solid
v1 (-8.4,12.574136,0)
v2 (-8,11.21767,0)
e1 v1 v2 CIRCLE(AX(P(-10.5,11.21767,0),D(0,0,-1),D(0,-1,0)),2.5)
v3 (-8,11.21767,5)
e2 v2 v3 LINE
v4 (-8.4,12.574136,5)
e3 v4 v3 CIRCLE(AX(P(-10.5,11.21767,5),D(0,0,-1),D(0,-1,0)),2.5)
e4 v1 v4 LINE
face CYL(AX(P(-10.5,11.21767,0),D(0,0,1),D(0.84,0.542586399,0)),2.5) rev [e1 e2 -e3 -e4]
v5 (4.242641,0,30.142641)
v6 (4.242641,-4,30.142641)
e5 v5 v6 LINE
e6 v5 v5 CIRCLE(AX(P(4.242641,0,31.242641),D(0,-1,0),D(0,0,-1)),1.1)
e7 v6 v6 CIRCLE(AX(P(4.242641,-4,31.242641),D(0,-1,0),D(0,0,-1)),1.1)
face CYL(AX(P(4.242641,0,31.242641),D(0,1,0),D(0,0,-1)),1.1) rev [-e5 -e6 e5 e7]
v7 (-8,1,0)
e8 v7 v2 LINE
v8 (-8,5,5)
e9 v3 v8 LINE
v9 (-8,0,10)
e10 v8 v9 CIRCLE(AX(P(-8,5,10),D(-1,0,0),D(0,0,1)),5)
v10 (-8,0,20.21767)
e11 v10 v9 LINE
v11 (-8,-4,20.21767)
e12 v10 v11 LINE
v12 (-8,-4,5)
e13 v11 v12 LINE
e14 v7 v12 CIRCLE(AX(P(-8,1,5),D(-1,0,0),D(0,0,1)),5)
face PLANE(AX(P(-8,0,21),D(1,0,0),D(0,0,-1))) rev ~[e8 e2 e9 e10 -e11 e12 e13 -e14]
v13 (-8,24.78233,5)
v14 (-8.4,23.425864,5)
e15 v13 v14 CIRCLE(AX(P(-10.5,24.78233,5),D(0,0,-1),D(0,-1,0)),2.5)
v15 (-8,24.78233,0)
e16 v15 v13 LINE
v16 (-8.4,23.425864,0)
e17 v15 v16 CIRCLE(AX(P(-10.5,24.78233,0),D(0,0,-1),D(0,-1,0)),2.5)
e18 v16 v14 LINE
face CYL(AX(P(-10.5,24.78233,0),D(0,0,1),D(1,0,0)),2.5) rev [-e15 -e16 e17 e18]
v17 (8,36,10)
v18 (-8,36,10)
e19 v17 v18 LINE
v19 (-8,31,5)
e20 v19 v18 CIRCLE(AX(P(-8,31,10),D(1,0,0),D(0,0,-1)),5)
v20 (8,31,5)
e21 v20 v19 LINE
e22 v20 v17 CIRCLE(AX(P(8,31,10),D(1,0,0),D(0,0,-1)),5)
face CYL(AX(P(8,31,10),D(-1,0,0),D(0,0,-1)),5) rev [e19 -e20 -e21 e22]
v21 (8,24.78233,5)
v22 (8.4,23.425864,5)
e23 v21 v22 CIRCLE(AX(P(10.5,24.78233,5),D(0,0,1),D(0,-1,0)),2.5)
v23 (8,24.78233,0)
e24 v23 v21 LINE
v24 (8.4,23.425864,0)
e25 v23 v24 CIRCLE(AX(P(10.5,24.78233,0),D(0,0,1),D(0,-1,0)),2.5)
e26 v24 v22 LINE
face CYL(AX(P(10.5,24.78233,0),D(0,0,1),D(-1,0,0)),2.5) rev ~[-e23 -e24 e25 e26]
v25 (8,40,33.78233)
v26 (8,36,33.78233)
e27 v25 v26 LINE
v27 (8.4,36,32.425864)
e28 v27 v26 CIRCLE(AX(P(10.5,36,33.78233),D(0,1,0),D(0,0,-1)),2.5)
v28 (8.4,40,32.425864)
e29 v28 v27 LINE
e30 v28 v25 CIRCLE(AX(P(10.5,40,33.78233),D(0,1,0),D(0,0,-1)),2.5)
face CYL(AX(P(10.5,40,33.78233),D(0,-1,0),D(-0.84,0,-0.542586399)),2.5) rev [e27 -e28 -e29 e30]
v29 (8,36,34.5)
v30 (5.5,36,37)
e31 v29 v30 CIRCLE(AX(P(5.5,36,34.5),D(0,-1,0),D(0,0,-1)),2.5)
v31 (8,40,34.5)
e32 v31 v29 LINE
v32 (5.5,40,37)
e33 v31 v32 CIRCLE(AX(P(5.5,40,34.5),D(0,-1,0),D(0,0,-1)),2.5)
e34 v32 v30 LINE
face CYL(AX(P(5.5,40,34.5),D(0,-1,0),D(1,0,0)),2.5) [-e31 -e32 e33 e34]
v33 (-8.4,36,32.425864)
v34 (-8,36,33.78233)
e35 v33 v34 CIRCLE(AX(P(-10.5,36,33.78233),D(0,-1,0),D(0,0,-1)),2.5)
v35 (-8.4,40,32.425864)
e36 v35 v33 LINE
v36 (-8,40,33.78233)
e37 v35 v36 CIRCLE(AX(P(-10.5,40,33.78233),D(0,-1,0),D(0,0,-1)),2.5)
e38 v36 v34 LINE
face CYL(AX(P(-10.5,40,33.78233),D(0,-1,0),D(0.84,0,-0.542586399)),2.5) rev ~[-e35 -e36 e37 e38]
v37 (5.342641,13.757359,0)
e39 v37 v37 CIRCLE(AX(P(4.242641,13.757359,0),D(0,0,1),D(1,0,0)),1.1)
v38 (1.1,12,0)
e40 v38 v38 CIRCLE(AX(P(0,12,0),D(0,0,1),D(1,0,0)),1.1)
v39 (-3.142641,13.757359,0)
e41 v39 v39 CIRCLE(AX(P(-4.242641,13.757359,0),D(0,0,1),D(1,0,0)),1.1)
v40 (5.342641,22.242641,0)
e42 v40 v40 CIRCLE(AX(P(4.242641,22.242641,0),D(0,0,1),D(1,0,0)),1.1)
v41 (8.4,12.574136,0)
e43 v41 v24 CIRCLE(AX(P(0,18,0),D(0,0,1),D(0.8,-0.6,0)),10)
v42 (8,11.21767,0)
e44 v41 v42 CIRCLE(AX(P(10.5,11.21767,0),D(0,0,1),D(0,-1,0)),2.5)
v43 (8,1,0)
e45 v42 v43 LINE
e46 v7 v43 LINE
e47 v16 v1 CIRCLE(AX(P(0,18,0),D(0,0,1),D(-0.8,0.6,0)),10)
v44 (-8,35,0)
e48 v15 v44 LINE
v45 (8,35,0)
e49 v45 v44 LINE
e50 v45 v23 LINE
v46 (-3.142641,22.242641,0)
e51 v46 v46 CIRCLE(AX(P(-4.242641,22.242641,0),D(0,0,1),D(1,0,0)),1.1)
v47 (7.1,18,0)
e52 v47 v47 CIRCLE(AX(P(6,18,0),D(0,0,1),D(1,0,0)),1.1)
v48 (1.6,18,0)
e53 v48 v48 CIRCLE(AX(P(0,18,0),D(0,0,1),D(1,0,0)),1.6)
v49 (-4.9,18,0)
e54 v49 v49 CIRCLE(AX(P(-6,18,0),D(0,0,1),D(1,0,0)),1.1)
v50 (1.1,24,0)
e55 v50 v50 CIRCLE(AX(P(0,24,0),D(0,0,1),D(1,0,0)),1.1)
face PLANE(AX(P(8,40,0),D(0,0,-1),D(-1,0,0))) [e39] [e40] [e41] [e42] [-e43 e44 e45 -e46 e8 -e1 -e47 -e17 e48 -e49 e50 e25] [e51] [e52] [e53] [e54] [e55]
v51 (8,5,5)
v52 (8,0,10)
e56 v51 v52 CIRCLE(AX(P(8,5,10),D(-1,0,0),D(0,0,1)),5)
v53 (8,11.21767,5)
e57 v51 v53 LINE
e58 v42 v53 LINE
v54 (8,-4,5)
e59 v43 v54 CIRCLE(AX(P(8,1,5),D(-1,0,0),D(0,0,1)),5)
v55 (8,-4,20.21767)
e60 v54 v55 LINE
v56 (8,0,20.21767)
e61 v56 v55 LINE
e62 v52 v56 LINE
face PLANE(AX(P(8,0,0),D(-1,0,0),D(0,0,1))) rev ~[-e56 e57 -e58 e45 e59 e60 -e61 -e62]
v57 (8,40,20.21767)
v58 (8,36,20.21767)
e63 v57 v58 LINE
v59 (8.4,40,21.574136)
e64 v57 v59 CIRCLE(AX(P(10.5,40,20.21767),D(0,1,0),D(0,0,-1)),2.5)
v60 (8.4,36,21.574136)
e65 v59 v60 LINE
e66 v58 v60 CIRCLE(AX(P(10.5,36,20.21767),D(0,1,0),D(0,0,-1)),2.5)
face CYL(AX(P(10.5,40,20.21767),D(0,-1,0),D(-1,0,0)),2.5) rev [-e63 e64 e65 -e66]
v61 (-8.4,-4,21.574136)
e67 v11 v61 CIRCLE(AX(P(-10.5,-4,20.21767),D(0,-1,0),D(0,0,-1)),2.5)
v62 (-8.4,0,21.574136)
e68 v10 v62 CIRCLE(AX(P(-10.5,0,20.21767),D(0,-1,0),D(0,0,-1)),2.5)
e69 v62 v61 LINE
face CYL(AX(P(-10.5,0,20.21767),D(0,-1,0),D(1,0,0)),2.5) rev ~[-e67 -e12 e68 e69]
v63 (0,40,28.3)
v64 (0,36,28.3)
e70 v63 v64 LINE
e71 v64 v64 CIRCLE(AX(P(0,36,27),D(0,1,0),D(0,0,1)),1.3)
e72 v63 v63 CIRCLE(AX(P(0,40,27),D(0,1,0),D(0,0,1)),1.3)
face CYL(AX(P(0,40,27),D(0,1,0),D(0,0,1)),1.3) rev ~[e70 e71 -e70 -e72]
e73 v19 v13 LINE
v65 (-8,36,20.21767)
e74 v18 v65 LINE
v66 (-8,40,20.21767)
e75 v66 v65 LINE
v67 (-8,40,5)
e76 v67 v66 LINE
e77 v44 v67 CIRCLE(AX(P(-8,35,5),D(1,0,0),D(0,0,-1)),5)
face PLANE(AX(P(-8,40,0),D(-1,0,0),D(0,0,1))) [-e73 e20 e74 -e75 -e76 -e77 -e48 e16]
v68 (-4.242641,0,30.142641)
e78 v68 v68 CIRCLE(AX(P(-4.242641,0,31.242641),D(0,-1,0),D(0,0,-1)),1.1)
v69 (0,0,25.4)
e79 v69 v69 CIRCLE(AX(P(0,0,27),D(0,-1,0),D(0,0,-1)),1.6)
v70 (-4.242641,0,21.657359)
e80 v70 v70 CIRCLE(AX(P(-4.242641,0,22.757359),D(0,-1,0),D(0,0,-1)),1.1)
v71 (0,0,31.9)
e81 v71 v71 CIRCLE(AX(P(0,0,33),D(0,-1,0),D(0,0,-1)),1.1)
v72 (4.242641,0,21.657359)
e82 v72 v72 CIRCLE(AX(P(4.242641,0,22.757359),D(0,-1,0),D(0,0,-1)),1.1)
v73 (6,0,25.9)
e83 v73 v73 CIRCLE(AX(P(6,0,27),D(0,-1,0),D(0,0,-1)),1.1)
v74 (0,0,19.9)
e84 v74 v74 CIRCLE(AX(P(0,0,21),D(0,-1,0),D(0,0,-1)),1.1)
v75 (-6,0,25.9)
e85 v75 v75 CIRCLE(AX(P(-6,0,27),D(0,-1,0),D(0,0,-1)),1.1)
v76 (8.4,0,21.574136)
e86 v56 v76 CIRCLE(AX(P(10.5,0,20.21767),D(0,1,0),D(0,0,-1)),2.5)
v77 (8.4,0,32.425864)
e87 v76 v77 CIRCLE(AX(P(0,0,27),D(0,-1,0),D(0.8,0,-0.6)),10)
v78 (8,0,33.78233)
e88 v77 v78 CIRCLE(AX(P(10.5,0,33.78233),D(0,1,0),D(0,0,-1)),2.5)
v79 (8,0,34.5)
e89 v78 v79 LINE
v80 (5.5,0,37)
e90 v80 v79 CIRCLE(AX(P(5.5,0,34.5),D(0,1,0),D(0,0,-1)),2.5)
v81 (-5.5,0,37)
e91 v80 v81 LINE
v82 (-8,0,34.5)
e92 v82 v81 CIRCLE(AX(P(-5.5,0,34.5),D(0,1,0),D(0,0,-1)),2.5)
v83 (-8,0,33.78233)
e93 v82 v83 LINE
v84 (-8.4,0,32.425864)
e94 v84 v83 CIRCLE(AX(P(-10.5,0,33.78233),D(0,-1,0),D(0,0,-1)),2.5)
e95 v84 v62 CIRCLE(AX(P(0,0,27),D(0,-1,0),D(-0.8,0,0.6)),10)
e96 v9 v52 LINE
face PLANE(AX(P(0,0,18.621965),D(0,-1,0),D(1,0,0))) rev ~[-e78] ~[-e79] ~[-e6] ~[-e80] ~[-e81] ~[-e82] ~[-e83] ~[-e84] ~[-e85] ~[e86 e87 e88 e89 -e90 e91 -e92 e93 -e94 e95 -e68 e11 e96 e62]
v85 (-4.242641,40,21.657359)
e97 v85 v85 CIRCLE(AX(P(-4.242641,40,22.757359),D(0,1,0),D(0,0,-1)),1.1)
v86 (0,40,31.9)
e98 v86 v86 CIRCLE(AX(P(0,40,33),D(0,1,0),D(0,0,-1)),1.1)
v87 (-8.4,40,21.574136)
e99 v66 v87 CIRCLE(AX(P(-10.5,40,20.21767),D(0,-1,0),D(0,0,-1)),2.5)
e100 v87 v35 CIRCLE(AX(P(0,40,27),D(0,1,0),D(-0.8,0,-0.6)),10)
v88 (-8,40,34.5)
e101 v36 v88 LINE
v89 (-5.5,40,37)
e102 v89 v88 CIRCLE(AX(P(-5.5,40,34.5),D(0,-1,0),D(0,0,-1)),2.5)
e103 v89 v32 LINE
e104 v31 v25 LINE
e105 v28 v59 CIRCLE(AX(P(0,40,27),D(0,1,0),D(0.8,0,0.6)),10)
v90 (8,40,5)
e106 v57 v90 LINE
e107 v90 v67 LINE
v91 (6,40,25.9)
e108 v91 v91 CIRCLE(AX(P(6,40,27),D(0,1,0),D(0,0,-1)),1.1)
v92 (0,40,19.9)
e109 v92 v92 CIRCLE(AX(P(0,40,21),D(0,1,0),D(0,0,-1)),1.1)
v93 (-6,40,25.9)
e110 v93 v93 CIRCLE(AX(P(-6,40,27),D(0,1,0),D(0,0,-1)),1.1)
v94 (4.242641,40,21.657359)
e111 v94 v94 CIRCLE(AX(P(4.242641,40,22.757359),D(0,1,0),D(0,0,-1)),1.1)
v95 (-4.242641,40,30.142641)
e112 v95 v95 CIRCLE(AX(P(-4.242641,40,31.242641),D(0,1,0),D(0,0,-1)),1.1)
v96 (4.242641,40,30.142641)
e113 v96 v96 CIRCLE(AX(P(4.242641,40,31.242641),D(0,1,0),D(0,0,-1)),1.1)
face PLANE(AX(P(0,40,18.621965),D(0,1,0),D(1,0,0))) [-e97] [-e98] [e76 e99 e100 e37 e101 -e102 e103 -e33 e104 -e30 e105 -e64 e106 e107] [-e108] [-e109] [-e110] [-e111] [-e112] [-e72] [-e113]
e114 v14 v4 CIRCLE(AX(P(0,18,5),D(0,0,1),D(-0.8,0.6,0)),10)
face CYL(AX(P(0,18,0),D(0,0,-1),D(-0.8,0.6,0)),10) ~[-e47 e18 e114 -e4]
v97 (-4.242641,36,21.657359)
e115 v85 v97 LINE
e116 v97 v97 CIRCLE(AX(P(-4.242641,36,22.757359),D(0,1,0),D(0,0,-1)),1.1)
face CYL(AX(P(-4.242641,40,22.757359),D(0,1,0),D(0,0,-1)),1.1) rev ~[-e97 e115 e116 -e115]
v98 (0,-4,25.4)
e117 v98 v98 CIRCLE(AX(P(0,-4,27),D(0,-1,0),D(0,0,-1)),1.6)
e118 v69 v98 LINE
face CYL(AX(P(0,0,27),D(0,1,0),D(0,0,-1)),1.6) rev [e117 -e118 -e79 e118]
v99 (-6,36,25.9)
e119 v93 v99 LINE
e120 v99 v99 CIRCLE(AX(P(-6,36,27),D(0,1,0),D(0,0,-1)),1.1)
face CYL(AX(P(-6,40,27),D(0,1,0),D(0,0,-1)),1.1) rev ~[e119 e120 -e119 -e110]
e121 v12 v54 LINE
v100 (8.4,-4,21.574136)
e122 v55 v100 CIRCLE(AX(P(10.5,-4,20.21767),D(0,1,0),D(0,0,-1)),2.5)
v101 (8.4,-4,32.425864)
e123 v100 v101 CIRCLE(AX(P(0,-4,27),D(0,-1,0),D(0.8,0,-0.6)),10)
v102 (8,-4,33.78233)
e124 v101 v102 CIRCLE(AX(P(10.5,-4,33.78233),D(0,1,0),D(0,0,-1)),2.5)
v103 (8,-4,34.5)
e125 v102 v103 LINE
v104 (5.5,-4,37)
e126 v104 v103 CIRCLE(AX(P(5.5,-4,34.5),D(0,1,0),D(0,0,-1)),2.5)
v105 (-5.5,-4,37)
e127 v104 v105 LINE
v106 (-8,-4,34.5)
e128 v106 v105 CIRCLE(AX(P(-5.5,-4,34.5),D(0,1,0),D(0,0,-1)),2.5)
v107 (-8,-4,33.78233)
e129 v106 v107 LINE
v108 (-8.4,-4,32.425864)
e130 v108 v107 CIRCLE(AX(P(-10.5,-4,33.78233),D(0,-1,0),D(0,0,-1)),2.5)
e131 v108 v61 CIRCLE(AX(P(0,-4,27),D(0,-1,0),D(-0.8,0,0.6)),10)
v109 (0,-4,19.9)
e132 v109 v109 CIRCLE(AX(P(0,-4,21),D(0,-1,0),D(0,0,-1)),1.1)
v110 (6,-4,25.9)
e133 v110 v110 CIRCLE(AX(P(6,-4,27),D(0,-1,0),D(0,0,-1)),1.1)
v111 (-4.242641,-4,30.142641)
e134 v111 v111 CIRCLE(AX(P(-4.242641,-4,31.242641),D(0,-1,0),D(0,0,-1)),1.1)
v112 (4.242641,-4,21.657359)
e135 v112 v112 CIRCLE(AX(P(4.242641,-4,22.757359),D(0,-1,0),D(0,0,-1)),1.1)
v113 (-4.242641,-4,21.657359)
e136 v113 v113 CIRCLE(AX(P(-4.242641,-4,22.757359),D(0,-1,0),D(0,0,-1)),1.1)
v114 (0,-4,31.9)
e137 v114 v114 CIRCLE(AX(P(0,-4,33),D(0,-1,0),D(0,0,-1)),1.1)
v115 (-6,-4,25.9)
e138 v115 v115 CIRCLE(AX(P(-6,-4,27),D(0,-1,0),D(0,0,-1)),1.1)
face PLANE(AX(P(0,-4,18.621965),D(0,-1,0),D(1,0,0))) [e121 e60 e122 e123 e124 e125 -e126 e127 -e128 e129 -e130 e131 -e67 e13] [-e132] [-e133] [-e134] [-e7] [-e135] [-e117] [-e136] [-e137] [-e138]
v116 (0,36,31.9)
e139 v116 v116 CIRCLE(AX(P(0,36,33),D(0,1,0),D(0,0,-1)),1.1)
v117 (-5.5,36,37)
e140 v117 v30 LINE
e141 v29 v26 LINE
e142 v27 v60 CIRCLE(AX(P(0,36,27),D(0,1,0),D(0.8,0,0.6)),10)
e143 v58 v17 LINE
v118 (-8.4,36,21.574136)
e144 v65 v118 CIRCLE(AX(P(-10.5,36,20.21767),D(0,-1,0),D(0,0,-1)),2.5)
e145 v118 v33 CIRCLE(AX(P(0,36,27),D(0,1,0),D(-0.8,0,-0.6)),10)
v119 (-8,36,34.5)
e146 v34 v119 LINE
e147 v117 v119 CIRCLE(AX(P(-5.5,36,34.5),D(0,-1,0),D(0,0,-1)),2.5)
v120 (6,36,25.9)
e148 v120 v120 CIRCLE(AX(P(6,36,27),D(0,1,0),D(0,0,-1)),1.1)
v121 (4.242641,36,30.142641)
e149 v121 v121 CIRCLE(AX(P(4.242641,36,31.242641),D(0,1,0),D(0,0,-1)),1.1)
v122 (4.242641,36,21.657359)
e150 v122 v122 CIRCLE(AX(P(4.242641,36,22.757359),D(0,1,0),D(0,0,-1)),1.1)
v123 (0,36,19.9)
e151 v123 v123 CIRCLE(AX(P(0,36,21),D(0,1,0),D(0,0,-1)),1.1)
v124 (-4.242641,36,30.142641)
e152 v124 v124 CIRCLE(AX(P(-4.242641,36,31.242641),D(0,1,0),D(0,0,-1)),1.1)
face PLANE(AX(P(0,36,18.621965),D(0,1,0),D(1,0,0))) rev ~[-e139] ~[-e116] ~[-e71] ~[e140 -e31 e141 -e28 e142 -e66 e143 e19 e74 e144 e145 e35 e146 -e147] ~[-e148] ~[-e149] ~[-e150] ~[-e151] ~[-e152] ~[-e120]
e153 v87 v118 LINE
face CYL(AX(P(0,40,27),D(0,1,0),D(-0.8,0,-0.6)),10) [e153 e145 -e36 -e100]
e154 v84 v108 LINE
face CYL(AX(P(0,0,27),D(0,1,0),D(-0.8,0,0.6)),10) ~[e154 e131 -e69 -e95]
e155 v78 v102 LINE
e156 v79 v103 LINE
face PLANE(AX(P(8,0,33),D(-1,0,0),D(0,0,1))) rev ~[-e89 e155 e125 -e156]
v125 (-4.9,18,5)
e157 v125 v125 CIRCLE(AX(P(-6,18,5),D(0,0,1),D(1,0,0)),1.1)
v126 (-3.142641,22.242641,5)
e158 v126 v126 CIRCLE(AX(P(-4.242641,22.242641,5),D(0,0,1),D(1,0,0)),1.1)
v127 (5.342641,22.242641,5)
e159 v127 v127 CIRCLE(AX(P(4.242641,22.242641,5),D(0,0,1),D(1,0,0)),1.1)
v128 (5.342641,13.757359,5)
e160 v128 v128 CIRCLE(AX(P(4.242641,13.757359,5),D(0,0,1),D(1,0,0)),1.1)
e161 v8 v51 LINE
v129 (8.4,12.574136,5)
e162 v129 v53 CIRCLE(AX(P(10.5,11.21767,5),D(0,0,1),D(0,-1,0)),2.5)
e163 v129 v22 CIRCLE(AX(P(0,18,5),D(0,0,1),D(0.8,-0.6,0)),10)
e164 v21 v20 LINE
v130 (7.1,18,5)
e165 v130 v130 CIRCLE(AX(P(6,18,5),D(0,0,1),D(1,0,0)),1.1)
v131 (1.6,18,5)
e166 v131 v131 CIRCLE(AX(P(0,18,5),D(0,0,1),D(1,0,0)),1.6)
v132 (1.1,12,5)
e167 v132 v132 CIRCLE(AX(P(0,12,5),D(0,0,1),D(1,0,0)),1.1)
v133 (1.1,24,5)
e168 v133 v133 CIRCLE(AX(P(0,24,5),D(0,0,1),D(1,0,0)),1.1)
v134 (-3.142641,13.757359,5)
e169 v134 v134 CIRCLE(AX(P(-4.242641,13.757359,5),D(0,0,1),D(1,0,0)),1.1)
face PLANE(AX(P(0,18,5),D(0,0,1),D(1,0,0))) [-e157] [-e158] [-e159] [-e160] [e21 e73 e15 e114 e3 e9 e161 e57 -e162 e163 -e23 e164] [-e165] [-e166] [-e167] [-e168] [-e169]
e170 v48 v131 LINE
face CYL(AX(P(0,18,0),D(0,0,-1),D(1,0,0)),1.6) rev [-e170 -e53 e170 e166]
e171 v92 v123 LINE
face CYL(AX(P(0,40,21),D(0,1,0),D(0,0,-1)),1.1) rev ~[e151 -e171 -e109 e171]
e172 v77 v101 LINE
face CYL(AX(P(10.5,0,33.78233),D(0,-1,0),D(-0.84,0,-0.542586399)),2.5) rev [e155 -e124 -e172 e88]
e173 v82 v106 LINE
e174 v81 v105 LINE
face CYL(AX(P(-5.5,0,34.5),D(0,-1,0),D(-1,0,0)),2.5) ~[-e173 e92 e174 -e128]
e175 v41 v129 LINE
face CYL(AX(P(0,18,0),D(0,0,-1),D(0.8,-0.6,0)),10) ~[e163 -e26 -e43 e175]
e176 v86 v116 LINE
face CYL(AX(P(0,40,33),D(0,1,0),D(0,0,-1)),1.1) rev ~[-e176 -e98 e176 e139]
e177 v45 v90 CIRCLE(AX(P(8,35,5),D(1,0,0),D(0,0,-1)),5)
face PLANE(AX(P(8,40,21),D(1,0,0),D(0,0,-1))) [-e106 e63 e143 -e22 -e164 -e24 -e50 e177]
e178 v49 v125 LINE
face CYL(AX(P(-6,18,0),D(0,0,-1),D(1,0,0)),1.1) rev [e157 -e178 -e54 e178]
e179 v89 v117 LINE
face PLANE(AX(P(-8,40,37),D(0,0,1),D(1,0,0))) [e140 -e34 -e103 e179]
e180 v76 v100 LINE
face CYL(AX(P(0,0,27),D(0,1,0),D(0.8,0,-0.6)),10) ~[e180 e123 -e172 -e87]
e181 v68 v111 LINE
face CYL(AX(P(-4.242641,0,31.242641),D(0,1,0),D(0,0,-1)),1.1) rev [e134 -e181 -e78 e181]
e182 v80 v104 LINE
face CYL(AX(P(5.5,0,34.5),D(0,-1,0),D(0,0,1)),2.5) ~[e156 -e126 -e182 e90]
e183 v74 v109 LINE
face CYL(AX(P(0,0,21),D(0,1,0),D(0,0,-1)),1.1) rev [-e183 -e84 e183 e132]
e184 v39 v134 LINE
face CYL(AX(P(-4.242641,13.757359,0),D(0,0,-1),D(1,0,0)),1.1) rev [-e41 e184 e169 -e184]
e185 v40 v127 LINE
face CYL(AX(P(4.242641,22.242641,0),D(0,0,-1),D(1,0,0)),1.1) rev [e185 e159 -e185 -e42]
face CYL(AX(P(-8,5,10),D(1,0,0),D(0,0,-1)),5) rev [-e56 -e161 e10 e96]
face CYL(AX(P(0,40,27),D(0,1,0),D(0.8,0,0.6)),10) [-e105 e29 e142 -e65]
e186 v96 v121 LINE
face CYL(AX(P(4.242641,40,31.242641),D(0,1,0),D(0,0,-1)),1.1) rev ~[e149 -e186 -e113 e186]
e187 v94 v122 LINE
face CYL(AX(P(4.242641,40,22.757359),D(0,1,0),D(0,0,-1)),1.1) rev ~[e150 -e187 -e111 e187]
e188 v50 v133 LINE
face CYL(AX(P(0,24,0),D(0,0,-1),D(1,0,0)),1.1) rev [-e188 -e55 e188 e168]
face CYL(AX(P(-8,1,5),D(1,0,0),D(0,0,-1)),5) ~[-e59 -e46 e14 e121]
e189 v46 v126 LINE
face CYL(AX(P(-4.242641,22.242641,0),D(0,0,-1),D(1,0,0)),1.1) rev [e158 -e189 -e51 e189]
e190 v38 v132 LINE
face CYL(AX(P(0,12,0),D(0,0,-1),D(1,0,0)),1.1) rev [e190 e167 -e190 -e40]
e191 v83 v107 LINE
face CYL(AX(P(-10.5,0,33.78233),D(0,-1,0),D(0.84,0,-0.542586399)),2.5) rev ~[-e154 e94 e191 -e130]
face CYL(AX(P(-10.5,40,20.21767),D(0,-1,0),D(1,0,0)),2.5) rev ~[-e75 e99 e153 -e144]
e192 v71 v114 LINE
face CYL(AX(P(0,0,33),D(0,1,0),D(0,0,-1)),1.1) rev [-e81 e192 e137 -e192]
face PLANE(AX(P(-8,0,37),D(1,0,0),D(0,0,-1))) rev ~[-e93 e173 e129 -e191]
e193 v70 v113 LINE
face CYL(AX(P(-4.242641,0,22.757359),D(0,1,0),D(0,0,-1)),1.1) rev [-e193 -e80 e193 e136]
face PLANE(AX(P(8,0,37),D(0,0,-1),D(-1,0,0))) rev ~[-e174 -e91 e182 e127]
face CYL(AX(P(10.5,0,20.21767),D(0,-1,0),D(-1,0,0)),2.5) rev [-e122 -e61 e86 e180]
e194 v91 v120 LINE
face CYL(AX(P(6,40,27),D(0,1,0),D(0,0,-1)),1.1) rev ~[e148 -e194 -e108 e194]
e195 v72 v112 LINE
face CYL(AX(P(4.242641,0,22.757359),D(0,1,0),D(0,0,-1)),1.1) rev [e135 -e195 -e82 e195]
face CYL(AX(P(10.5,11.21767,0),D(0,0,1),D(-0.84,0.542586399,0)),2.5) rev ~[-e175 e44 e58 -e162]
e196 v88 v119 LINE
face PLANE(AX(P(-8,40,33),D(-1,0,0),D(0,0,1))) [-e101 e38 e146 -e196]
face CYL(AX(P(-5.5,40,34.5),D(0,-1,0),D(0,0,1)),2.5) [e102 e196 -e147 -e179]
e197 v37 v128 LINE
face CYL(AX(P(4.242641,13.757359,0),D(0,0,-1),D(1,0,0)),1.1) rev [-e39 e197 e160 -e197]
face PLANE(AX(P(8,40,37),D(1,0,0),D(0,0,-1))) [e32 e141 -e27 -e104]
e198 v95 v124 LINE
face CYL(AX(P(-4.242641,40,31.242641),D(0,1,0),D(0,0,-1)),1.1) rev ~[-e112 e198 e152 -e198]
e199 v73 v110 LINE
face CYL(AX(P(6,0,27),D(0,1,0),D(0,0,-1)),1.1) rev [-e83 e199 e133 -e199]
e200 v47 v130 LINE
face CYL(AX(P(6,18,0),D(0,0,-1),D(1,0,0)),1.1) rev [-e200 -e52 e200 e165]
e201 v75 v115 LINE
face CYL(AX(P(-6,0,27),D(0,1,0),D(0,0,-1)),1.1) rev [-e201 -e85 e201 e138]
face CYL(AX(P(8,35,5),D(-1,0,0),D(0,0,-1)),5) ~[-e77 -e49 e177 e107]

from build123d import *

# Parameters (mm, degrees)
SKETCH_1_R      = 1.6
SKETCH_1_R_2    = 1.1
EXTRUDE_1_DEPTH = 5
SKETCH_2_R      = 1.6
SKETCH_2_R_2    = 1.1
EXTRUDE_2_DEPTH = 4
EXTRUDE_START   = 4
SKETCH_3_R      = 1.1
SKETCH_3_R_2    = 1.3
EXTRUDE_3_DEPTH = 4
FILLET_1_R      = 5
FILLET_2_R      = 2.5


with BuildPart() as part:
    # ｽｹｯﾁ1 → ﾎﾞｽ - 押し出し1 (new body)
    with BuildSketch(Plane.XY):
        with BuildLine():
            Line((-8, 0), (8, 0))
            Line((8, 0), (8, 12))
            ThreePointArc((8, 12), (10, 18), (8, 24))
            Line((8, 24), (8, 36))
            Line((8, 36), (-8, 36))
            Line((-8, 36), (-8, 24))
            ThreePointArc((-8, 24), (-10, 18), (-8, 12))
            Line((-8, 12), (-8, 0))
        make_face()
        with Locations((0, 18)):
            Circle(SKETCH_1_R, mode=Mode.SUBTRACT)
        with Locations((0, 24)):
            Circle(SKETCH_1_R_2, mode=Mode.SUBTRACT)
        with Locations((4.242640687, 22.242640687)):
            Circle(SKETCH_1_R_2, mode=Mode.SUBTRACT)
        with Locations((6, 18)):
            Circle(SKETCH_1_R_2, mode=Mode.SUBTRACT)
        with Locations((4.242640687, 13.757359313)):
            Circle(SKETCH_1_R_2, mode=Mode.SUBTRACT)
        with Locations((0, 12)):
            Circle(SKETCH_1_R_2, mode=Mode.SUBTRACT)
        with Locations((-4.242640687, 13.757359313)):
            Circle(SKETCH_1_R_2, mode=Mode.SUBTRACT)
        with Locations((-6, 18)):
            Circle(SKETCH_1_R_2, mode=Mode.SUBTRACT)
        with Locations((-4.242640687, 22.242640687)):
            Circle(SKETCH_1_R_2, mode=Mode.SUBTRACT)
    extrude(amount=EXTRUDE_1_DEPTH)

    # ｽｹｯﾁ2 → ﾎﾞｽ - 押し出し2 (add)
    with BuildSketch(Plane.XZ):
        with BuildLine():
            Line((-8, 0), (8, 0))
            Line((8, 0), (8, 21))
            ThreePointArc((8, 21), (10, 27), (8, 33))
            Line((8, 33), (8, 37))
            Line((8, 37), (-8, 37))
            Line((-8, 37), (-8, 33))
            ThreePointArc((-8, 33), (-10, 27), (-8, 21))
            Line((-8, 21), (-8, 0))
        make_face()
        with Locations(Location((0, 27, 0), (0, 0, 270))):
            Circle(SKETCH_2_R, mode=Mode.SUBTRACT)
        with Locations(Location((6, 27, 0), (0, 0, 270))):
            Circle(SKETCH_2_R_2, mode=Mode.SUBTRACT)
        with Locations(Location((4.242640687, 22.757359313, 0), (0, 0, 270))):
            Circle(SKETCH_2_R_2, mode=Mode.SUBTRACT)
        with Locations(Location((0, 21, 0), (0, 0, 270))):
            Circle(SKETCH_2_R_2, mode=Mode.SUBTRACT)
        with Locations(Location((-4.242640687, 22.757359313, 0), (0, 0, 270))):
            Circle(SKETCH_2_R_2, mode=Mode.SUBTRACT)
        with Locations(Location((-6, 27, 0), (0, 0, 270))):
            Circle(SKETCH_2_R_2, mode=Mode.SUBTRACT)
        with Locations(Location((-4.242640687, 31.242640687, 0), (0, 0, 270))):
            Circle(SKETCH_2_R_2, mode=Mode.SUBTRACT)
        with Locations(Location((0, 33, 0), (0, 0, 270))):
            Circle(SKETCH_2_R_2, mode=Mode.SUBTRACT)
        with Locations(Location((4.242640687, 31.242640687, 0), (0, 0, 270))):
            Circle(SKETCH_2_R_2, mode=Mode.SUBTRACT)
    extrude(amount=EXTRUDE_2_DEPTH)

    # ｽｹｯﾁ3 → ﾎﾞｽ - 押し出し3 (add)
    with BuildSketch(Plane(origin=(0, 36, 0), x_dir=(1, 0, 0), z_dir=(0, 1, 0)).offset(EXTRUDE_START)):
        with BuildLine():
            Line((8, -5), (8, 0))
            Line((8, 0), (-8, 0))
            Line((-8, 0), (-8, -5))
            Line((-8, -5), (-8, -21))
            ThreePointArc((-8, -21), (-10, -27), (-8, -33))
            Line((-8, -33), (-8, -37))
            Line((-8, -37), (8, -37))
            Line((8, -37), (8, -33))
            ThreePointArc((8, -33), (10, -27), (8, -21))
            Line((8, -21), (8, -5))
        make_face()
        with Locations(Location((4.242640687, -22.757359313, 0), (0, 0, 90))):
            Circle(SKETCH_3_R, mode=Mode.SUBTRACT)
        with Locations(Location((0, -21, 0), (0, 0, 90))):
            Circle(SKETCH_3_R, mode=Mode.SUBTRACT)
        with Locations(Location((-4.242640687, -22.757359313, 0), (0, 0, 90))):
            Circle(SKETCH_3_R, mode=Mode.SUBTRACT)
        with Locations(Location((-6, -27, 0), (0, 0, 90))):
            Circle(SKETCH_3_R, mode=Mode.SUBTRACT)
        with Locations(Location((-4.242640687, -31.242640687, 0), (0, 0, 90))):
            Circle(SKETCH_3_R, mode=Mode.SUBTRACT)
        with Locations(Location((0, -33, 0), (0, 0, 90))):
            Circle(SKETCH_3_R, mode=Mode.SUBTRACT)
        with Locations(Location((4.242640687, -31.242640687, 0), (0, 0, 90))):
            Circle(SKETCH_3_R, mode=Mode.SUBTRACT)
        with Locations(Location((6, -27, 0), (0, 0, 90))):
            Circle(SKETCH_3_R, mode=Mode.SUBTRACT)
        with Locations(Location((0, -27, 0), (0, 0, 270))):
            Circle(SKETCH_3_R_2, mode=Mode.SUBTRACT)
    extrude(amount=-EXTRUDE_3_DEPTH)

    # ﾌｨﾚｯﾄ1
    fillet_1_edges = [part.edges().sort_by_distance(p)[0] for p in [
        (0, 40, 0),
        (0, 36, 5),
        (0, -4, 0),
        (0, 0, 5),
    ]]
    fillet(fillet_1_edges, radius=FILLET_1_R)

    # ﾌｨﾚｯﾄ2
    fillet_2_edges = [part.edges().sort_by_distance(p)[0] for p in [
        (8, 38, 21),
        (-8, 38, 21),
        (-8, 38, 33),
        (-8, 38, 37),
        (8, 38, 37),
        (8, 38, 33),
        (-8, 12, 2.5),
        (-8, 24, 2.5),
        (8, 24, 2.5),
        (8, 12, 2.5),
        (-8, -2, 21),
        (8, -2, 21),
        (8, -2, 33),
        (8, -2, 37),
        (-8, -2, 37),
        (-8, -2, 33),
    ]]
    fillet(fillet_2_edges, radius=FILLET_2_R)


solid = part.part
